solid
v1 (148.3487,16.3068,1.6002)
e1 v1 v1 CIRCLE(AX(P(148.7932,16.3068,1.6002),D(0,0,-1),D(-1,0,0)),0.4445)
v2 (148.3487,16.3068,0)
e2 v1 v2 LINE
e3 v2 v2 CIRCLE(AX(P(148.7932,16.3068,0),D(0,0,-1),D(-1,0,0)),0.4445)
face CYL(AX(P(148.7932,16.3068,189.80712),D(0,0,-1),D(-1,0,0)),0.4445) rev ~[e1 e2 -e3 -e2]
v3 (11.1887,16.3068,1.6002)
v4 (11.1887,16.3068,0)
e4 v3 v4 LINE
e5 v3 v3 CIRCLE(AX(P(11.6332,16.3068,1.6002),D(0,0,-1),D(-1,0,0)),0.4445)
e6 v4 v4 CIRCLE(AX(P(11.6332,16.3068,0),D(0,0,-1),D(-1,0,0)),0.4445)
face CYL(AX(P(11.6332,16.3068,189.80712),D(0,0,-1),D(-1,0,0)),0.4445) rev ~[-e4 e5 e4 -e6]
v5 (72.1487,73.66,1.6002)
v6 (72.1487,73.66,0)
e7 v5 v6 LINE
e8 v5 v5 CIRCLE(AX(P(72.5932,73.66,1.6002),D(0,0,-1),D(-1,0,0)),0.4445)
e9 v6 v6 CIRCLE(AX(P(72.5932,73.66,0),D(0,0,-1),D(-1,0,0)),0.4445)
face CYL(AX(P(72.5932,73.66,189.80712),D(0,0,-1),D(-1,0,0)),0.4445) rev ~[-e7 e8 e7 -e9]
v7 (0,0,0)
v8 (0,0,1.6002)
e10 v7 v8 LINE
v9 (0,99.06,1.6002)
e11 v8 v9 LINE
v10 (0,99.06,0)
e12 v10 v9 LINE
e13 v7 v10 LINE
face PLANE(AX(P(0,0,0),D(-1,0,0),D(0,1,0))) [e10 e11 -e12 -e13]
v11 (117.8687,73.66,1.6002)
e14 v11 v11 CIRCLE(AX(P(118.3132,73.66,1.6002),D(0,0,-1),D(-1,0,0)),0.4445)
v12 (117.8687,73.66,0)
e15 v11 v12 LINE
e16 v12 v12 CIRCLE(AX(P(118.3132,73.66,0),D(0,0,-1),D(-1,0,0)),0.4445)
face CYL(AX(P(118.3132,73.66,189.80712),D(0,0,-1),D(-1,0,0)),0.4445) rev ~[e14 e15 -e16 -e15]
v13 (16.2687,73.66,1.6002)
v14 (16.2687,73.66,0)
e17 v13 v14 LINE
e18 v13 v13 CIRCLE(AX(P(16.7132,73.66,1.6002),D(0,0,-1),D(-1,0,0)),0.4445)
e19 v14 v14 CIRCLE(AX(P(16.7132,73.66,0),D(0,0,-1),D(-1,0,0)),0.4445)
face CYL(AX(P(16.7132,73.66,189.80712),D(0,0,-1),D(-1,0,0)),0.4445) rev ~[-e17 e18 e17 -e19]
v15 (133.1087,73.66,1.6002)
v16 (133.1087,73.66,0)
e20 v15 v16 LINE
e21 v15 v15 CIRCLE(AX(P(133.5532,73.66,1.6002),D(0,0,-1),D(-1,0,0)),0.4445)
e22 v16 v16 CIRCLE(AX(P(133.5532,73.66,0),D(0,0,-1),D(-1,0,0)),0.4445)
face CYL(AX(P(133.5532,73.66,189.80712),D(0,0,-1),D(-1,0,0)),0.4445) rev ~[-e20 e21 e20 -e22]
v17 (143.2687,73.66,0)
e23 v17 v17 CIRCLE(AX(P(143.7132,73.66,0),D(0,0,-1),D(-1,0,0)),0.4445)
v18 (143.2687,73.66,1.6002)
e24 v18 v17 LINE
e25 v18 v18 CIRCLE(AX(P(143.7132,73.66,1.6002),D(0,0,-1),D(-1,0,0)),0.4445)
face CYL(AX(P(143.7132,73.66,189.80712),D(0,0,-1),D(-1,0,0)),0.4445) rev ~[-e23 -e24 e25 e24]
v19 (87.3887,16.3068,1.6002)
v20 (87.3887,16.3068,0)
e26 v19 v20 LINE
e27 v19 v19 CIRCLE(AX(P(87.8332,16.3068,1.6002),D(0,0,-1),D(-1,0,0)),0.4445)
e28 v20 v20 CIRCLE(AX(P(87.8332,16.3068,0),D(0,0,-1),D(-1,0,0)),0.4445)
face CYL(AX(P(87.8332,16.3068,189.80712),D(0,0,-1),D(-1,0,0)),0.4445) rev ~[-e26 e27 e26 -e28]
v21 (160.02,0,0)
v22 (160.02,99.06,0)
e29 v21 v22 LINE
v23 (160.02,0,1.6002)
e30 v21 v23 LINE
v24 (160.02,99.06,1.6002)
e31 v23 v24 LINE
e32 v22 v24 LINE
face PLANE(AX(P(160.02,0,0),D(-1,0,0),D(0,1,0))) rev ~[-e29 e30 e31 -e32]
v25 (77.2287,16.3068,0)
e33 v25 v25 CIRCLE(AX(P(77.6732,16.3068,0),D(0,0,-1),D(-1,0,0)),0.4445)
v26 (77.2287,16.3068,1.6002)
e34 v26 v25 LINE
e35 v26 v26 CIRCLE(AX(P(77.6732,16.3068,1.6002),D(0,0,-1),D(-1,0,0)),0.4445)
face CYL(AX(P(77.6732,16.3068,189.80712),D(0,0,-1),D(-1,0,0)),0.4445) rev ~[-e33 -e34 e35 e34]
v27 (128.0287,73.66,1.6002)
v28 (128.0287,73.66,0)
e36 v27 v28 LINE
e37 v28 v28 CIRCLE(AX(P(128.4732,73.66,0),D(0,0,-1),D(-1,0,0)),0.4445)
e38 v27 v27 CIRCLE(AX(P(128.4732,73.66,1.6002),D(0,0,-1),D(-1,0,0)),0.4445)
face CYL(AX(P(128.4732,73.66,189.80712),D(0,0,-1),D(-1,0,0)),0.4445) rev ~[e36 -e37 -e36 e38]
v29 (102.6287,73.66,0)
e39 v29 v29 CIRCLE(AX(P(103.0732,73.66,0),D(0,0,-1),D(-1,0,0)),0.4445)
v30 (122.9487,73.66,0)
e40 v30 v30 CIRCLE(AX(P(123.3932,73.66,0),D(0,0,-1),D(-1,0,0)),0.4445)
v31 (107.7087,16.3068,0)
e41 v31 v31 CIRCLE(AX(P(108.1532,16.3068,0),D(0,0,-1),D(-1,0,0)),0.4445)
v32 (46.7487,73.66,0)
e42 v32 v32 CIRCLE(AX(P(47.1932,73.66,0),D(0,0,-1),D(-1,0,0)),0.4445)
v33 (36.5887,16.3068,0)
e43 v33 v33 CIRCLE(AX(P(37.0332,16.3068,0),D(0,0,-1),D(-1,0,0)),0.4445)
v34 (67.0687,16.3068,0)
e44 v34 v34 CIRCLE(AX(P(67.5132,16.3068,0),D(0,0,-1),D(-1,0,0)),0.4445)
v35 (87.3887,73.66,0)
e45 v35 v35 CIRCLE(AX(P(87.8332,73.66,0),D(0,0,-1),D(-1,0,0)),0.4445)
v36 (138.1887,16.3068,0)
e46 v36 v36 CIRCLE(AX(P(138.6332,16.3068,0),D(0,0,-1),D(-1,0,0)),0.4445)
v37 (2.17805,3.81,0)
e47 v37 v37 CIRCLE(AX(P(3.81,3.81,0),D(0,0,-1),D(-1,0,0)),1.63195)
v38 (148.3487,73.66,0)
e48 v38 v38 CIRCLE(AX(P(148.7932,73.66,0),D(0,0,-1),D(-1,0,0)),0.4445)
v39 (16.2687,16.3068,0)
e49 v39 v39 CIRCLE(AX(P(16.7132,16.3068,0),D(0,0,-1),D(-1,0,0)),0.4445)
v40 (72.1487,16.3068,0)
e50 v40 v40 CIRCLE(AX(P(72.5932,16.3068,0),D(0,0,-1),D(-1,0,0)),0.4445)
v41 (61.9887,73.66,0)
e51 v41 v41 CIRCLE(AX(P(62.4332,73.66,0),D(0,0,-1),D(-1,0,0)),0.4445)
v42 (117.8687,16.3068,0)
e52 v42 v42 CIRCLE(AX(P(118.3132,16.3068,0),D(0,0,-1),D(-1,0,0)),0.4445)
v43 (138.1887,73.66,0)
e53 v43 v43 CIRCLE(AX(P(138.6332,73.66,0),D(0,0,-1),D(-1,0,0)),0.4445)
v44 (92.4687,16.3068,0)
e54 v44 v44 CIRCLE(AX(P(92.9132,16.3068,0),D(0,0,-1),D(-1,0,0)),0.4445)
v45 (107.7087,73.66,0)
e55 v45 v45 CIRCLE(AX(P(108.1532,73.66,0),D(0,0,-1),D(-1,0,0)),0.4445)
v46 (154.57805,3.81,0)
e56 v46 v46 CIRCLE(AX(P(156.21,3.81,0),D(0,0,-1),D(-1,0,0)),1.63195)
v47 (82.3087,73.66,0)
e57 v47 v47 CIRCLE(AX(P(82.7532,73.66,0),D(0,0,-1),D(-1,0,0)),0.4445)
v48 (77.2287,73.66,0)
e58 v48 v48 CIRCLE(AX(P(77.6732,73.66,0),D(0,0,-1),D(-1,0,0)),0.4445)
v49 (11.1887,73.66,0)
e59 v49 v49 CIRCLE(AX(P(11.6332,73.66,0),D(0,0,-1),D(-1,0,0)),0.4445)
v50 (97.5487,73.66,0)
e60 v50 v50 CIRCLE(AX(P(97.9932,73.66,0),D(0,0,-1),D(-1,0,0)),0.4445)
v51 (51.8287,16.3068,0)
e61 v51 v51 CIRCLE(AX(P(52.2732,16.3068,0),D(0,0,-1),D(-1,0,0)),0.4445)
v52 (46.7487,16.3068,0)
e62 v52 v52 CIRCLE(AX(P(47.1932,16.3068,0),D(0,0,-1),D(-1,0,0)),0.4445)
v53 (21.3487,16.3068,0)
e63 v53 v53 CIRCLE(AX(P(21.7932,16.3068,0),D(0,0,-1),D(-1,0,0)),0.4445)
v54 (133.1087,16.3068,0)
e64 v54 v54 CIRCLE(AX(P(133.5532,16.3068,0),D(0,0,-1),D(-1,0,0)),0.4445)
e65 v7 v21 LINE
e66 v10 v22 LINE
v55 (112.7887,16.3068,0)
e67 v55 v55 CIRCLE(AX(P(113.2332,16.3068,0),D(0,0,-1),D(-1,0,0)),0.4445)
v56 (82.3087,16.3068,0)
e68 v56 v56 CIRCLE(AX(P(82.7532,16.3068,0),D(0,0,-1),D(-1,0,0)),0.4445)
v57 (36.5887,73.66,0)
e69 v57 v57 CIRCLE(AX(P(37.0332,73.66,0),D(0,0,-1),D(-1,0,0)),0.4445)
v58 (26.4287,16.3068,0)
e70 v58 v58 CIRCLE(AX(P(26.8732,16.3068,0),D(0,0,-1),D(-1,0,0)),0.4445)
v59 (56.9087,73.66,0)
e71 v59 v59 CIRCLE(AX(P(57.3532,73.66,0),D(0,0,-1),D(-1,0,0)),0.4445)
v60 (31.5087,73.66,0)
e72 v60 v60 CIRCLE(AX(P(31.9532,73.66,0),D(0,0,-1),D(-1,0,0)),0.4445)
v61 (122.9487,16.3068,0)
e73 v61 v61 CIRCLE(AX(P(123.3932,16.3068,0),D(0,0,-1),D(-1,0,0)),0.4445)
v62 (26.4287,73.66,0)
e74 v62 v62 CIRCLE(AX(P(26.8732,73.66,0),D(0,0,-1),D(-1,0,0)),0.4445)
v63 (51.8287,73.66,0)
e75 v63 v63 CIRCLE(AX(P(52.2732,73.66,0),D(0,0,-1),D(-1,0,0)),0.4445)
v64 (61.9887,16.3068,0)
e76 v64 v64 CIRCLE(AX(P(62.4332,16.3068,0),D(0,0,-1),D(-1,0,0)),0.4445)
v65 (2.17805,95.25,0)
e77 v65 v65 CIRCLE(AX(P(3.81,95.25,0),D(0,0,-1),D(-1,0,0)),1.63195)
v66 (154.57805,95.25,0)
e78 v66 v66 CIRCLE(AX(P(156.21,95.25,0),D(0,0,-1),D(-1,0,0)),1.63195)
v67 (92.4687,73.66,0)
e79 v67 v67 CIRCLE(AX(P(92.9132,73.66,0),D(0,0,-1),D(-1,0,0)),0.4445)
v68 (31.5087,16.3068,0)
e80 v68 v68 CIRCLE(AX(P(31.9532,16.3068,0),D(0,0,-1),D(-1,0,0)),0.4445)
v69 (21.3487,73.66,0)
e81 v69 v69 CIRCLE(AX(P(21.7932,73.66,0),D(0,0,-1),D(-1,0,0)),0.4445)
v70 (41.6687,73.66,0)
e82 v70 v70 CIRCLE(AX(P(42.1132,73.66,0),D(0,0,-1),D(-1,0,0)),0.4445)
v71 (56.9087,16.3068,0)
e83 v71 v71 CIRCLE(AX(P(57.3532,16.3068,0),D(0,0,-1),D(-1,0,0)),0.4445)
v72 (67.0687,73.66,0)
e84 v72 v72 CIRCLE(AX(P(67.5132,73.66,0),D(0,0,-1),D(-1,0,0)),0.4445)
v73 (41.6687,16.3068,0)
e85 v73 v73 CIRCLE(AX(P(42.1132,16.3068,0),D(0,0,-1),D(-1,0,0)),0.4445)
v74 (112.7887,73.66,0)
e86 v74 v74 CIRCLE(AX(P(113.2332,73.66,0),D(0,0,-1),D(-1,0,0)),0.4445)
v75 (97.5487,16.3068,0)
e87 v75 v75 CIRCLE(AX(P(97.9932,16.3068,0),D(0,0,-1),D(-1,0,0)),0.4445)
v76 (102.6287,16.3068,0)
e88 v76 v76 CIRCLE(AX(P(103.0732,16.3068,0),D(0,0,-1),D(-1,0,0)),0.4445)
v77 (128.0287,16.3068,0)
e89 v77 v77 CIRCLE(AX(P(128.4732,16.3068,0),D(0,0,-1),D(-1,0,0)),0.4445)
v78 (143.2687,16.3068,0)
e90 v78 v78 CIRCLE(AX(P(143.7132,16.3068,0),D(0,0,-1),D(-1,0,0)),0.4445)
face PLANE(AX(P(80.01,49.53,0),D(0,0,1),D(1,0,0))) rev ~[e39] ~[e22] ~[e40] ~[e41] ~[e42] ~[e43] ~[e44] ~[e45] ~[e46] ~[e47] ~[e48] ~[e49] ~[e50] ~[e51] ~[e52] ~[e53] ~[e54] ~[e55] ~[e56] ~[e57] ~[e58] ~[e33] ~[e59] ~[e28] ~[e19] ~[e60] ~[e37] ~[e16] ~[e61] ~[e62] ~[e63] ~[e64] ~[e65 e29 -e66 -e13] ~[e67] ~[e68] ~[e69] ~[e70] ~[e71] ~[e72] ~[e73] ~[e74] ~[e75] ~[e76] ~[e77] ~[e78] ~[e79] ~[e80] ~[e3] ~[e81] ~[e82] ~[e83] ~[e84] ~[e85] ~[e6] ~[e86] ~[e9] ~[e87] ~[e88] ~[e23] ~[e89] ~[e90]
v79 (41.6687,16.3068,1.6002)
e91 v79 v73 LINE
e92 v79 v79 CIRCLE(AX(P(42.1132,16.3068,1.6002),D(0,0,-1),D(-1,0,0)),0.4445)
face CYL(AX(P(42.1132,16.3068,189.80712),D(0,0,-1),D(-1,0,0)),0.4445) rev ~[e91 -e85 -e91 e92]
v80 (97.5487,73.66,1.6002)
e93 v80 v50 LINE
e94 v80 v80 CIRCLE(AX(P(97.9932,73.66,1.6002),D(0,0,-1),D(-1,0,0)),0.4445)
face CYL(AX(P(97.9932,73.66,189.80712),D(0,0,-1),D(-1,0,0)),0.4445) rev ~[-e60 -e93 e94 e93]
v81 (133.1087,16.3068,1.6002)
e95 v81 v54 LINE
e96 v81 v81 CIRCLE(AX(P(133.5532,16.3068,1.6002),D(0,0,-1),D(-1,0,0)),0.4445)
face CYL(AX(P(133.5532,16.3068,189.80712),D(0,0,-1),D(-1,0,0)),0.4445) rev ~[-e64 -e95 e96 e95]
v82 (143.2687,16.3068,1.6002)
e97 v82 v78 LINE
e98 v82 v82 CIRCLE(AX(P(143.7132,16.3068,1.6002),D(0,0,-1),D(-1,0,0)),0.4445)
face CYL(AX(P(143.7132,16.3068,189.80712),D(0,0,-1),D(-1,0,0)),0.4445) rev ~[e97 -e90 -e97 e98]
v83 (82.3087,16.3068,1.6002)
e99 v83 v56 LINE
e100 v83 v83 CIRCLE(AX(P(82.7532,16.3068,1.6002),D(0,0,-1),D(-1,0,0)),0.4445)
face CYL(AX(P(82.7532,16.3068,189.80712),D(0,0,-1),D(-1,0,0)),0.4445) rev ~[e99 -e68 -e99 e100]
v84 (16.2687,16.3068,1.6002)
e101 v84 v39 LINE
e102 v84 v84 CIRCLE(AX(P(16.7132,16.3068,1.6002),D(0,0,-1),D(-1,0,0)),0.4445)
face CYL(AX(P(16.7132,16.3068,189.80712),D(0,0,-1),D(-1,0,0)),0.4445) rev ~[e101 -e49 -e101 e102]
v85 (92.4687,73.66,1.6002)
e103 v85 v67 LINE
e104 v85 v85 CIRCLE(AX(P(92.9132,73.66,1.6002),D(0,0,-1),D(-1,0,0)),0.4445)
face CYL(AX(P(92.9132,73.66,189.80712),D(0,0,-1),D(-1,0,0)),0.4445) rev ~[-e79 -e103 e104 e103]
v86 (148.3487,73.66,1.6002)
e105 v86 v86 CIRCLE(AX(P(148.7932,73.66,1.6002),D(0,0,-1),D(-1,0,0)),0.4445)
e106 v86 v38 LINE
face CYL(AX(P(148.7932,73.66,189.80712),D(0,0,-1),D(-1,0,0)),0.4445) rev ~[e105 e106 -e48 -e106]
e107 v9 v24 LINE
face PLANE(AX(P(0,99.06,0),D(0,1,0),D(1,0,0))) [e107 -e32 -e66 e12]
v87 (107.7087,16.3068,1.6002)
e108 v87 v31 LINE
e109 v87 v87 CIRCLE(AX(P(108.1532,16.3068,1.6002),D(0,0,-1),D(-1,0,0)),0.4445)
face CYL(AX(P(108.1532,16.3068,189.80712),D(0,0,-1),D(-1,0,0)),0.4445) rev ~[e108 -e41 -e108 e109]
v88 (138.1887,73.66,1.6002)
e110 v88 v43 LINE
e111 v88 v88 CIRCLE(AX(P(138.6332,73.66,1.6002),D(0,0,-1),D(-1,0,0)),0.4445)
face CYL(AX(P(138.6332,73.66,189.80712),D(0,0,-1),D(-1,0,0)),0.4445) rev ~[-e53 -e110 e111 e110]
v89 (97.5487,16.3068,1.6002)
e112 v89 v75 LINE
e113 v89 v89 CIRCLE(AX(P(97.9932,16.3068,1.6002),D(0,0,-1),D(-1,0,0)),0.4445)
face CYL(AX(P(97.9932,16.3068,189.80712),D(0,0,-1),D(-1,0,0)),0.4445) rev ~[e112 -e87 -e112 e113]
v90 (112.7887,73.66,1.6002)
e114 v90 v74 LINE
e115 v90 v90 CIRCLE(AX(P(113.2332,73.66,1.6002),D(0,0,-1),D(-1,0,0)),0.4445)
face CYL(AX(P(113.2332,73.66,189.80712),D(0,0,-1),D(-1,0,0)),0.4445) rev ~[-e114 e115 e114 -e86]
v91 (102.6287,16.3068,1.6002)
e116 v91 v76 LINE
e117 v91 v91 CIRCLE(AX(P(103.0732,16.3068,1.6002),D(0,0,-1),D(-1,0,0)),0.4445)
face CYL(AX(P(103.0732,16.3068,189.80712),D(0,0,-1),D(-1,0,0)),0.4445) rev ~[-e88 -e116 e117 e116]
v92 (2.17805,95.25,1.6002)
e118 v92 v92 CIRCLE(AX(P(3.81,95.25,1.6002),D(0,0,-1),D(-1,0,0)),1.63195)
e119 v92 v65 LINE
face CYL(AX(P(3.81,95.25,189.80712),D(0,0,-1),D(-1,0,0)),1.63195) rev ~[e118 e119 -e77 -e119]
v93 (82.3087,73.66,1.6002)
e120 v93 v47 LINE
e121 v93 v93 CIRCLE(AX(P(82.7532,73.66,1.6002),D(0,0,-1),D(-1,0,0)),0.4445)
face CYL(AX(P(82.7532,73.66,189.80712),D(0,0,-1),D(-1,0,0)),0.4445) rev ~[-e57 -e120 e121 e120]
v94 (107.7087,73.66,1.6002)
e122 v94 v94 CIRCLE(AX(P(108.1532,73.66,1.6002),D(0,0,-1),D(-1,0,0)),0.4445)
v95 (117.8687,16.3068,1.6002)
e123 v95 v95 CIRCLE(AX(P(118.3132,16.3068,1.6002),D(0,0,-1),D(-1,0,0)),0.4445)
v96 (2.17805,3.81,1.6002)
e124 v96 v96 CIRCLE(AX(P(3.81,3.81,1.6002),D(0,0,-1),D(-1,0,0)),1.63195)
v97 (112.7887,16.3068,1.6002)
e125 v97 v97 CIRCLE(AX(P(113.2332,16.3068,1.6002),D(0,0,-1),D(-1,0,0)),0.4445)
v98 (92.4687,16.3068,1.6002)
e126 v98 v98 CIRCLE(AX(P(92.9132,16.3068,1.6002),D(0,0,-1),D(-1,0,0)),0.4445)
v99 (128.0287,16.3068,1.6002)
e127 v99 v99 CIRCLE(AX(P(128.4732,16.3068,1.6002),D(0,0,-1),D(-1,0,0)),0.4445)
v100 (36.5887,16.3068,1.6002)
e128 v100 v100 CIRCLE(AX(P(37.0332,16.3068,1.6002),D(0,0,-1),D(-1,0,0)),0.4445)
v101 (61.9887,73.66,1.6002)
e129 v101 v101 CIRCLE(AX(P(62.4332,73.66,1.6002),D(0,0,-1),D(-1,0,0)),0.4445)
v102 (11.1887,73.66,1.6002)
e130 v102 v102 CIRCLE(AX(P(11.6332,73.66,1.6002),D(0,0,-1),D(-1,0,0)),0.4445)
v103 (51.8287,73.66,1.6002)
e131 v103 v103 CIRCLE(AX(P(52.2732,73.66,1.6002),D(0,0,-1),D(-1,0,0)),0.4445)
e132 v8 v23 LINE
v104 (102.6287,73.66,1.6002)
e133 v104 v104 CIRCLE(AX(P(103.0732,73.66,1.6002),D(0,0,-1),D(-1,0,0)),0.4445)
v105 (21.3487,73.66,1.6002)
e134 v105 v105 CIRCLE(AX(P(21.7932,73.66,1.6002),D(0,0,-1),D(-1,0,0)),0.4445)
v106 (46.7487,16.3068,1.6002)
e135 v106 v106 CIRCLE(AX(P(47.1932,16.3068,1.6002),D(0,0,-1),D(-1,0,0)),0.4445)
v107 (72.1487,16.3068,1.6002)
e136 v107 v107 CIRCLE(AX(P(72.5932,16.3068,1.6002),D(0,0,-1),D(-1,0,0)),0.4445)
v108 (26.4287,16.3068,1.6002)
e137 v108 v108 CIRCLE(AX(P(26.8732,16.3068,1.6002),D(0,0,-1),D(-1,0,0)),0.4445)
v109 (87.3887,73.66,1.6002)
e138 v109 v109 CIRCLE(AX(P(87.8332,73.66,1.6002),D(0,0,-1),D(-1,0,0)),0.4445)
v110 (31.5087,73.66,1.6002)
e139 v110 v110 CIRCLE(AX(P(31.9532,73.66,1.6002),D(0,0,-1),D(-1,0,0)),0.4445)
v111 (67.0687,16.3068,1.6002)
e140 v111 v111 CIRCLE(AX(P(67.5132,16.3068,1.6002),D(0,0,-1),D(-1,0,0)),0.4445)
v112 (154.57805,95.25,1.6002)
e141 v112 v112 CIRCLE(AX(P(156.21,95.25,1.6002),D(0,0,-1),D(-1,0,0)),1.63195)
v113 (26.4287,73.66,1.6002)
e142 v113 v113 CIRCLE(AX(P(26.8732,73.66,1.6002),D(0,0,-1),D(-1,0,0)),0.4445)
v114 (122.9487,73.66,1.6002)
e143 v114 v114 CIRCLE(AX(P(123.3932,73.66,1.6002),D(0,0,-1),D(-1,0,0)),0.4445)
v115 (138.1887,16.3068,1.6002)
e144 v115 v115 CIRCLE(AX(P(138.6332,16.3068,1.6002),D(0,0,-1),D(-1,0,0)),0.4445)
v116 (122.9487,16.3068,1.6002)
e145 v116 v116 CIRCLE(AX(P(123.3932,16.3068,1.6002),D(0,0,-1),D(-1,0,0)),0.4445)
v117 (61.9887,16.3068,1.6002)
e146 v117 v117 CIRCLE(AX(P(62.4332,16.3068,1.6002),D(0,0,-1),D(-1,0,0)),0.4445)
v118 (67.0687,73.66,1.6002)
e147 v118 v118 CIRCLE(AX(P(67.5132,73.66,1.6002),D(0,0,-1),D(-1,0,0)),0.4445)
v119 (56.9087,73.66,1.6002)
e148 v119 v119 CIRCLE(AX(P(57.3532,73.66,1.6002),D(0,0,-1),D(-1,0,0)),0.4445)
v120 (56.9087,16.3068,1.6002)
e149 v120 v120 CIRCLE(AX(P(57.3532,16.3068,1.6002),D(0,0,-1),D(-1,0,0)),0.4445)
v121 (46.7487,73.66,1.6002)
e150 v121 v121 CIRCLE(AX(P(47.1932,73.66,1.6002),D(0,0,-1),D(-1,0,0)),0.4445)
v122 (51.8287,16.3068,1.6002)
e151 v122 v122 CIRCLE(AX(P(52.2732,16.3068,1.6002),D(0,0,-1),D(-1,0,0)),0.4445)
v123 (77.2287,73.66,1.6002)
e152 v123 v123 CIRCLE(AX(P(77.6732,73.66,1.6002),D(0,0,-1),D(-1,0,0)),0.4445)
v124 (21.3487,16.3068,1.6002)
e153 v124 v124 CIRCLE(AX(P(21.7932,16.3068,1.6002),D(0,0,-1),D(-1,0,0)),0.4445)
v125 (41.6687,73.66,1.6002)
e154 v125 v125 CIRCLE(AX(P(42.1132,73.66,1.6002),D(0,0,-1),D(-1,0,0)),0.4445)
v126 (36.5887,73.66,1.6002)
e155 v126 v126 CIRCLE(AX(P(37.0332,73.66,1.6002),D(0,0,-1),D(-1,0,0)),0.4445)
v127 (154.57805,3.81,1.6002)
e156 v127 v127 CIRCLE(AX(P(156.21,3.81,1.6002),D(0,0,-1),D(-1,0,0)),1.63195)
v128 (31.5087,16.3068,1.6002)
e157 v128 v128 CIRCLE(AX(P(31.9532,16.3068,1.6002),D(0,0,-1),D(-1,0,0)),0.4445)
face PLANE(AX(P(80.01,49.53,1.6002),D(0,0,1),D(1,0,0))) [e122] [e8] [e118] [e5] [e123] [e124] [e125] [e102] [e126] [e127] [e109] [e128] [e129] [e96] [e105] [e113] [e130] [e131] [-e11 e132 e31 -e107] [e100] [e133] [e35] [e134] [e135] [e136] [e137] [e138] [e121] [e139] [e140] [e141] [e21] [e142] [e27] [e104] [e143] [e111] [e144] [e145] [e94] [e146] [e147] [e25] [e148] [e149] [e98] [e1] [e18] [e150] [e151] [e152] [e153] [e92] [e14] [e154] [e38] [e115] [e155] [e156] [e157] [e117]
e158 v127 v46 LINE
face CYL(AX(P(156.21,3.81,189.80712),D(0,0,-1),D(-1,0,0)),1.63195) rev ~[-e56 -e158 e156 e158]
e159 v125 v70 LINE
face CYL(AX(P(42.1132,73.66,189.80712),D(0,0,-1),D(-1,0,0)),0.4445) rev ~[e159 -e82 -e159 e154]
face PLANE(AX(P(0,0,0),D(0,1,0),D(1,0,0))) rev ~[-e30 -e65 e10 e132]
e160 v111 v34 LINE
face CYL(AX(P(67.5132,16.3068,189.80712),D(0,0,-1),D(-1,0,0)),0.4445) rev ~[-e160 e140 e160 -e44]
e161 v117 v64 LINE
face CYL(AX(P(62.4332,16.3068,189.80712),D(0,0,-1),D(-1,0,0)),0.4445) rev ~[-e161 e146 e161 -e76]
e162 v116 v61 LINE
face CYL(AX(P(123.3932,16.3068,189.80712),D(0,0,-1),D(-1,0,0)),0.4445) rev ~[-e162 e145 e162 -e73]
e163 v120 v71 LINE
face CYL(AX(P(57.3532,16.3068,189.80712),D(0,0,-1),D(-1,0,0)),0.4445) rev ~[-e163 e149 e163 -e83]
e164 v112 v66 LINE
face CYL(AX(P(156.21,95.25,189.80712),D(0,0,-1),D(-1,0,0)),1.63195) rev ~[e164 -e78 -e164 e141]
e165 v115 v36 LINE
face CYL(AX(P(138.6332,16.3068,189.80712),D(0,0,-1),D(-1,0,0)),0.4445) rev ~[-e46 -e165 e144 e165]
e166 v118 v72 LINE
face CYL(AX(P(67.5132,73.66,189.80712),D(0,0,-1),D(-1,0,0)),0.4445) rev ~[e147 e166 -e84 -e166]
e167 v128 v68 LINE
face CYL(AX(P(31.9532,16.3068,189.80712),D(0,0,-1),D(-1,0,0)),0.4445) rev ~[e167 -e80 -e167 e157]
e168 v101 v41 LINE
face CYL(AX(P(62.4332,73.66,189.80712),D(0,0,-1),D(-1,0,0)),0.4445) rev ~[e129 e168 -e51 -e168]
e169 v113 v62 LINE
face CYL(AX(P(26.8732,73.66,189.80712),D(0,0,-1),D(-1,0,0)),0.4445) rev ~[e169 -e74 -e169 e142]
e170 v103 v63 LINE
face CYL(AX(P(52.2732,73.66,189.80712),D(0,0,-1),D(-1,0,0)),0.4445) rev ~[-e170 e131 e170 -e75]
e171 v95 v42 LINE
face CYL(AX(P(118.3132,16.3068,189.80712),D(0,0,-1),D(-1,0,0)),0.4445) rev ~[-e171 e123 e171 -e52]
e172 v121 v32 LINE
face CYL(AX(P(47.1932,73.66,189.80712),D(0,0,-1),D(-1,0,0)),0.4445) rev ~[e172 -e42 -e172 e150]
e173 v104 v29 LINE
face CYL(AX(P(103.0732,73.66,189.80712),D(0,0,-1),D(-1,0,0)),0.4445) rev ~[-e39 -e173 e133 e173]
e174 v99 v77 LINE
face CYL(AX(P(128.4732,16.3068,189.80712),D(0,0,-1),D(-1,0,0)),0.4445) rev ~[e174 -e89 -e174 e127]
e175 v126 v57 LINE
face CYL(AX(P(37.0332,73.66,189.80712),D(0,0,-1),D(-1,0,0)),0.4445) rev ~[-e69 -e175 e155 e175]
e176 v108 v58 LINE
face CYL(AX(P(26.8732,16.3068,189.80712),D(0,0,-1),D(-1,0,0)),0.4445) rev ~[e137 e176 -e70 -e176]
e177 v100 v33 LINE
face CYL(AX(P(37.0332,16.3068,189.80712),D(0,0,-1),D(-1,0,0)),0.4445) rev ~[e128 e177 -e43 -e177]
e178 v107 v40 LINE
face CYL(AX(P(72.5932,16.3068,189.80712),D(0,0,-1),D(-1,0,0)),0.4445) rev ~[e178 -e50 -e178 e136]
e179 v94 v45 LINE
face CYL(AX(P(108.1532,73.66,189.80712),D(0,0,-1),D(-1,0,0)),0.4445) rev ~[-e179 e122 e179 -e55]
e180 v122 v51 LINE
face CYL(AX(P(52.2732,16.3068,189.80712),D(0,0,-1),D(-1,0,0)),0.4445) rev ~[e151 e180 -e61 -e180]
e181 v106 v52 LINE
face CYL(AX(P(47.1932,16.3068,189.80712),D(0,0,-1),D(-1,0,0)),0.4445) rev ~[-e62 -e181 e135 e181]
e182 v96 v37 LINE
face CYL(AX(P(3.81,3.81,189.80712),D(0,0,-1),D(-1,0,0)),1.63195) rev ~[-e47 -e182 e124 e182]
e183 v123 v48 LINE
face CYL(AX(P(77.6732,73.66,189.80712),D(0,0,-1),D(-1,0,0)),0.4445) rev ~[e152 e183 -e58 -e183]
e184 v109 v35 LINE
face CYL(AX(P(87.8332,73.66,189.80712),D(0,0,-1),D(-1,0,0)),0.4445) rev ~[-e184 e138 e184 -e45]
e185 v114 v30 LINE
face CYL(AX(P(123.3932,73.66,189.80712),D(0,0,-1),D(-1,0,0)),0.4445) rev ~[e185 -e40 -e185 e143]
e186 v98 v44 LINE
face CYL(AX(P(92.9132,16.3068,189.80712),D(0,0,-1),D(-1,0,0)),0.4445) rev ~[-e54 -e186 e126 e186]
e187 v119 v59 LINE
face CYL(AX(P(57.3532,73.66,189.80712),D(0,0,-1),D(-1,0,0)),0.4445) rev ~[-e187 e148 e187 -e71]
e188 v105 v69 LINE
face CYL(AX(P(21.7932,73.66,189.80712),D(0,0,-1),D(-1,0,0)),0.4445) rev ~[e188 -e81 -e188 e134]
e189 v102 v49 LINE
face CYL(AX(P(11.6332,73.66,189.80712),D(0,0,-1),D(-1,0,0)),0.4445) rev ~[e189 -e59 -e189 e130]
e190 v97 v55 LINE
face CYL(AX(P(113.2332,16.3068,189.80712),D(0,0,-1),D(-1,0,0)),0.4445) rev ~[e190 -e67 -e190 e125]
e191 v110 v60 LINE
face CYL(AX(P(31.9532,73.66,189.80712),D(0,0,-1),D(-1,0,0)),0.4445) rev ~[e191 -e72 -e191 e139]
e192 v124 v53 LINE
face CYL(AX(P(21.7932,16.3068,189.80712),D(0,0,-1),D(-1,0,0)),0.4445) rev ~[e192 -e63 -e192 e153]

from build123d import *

# Parameters (mm, degrees)
F0_W       = 160.02
F0_H       = 99.06
F1_DEPTH   = 1.6002
F3_D       = 3.2639
F6_D       = 0.889
F6_ON_F5_D = 0.889


with BuildPart() as f1:
    # F0 (on Top) → F1 (new body)
    with BuildSketch(Plane.XY):
        with Locations((80.01, 49.53)):
            Rectangle(F0_W, F0_H)
    extrude(amount=F1_DEPTH)

    # F3 (through all)
    with Locations(Plane.XY.offset(1.6002)):
        with Locations((3.81, 95.25), (3.81, 3.81), (156.21, 3.81), (156.21, 95.25)):
            Hole(F3_D / 2)

    # F6 (through all)
    with Locations(Plane.XY.offset(1.6002)):
        with Locations((87.8332, 73.66), (108.1532, 73.66), (123.3932, 73.66), (143.7132, 73.66), (82.7532, 73.66), (148.7932, 73.66), (103.0732, 73.66), (118.3132, 73.66), (138.6332, 73.66), (97.9932, 73.66), (133.5532, 73.66), (62.4332, 73.66), (57.3532, 73.66), (52.2732, 73.66), (47.1932, 73.66), (42.1132, 73.66), (37.0332, 73.66), (31.9532, 73.66), (26.8732, 73.66), (21.7932, 73.66), (16.7132, 73.66), (11.6332, 73.66), (77.6732, 73.66), (72.5932, 73.66), (67.5132, 73.66), (92.9132, 73.66), (113.2332, 73.66), (128.4732, 73.66)):
            Hole(F6_D / 2)

    # F6 on F5 (through all)
    with Locations(Plane.XY.offset(1.6002)):
        with Locations((113.2332, 16.3068), (21.7932, 16.3068), (123.3932, 16.3068), (31.9532, 16.3068), (26.8732, 16.3068), (52.2732, 16.3068), (16.7132, 16.3068), (118.3132, 16.3068), (37.0332, 16.3068), (97.9932, 16.3068), (47.1932, 16.3068), (103.0732, 16.3068), (148.7932, 16.3068), (42.1132, 16.3068), (108.1532, 16.3068), (92.9132, 16.3068), (57.3532, 16.3068), (87.8332, 16.3068), (62.4332, 16.3068), (77.6732, 16.3068), (72.5932, 16.3068), (67.5132, 16.3068), (82.7532, 16.3068), (143.7132, 16.3068), (138.6332, 16.3068), (133.5532, 16.3068), (11.6332, 16.3068), (128.4732, 16.3068)):
            Hole(F6_ON_F5_D / 2)


solid = f1.part
